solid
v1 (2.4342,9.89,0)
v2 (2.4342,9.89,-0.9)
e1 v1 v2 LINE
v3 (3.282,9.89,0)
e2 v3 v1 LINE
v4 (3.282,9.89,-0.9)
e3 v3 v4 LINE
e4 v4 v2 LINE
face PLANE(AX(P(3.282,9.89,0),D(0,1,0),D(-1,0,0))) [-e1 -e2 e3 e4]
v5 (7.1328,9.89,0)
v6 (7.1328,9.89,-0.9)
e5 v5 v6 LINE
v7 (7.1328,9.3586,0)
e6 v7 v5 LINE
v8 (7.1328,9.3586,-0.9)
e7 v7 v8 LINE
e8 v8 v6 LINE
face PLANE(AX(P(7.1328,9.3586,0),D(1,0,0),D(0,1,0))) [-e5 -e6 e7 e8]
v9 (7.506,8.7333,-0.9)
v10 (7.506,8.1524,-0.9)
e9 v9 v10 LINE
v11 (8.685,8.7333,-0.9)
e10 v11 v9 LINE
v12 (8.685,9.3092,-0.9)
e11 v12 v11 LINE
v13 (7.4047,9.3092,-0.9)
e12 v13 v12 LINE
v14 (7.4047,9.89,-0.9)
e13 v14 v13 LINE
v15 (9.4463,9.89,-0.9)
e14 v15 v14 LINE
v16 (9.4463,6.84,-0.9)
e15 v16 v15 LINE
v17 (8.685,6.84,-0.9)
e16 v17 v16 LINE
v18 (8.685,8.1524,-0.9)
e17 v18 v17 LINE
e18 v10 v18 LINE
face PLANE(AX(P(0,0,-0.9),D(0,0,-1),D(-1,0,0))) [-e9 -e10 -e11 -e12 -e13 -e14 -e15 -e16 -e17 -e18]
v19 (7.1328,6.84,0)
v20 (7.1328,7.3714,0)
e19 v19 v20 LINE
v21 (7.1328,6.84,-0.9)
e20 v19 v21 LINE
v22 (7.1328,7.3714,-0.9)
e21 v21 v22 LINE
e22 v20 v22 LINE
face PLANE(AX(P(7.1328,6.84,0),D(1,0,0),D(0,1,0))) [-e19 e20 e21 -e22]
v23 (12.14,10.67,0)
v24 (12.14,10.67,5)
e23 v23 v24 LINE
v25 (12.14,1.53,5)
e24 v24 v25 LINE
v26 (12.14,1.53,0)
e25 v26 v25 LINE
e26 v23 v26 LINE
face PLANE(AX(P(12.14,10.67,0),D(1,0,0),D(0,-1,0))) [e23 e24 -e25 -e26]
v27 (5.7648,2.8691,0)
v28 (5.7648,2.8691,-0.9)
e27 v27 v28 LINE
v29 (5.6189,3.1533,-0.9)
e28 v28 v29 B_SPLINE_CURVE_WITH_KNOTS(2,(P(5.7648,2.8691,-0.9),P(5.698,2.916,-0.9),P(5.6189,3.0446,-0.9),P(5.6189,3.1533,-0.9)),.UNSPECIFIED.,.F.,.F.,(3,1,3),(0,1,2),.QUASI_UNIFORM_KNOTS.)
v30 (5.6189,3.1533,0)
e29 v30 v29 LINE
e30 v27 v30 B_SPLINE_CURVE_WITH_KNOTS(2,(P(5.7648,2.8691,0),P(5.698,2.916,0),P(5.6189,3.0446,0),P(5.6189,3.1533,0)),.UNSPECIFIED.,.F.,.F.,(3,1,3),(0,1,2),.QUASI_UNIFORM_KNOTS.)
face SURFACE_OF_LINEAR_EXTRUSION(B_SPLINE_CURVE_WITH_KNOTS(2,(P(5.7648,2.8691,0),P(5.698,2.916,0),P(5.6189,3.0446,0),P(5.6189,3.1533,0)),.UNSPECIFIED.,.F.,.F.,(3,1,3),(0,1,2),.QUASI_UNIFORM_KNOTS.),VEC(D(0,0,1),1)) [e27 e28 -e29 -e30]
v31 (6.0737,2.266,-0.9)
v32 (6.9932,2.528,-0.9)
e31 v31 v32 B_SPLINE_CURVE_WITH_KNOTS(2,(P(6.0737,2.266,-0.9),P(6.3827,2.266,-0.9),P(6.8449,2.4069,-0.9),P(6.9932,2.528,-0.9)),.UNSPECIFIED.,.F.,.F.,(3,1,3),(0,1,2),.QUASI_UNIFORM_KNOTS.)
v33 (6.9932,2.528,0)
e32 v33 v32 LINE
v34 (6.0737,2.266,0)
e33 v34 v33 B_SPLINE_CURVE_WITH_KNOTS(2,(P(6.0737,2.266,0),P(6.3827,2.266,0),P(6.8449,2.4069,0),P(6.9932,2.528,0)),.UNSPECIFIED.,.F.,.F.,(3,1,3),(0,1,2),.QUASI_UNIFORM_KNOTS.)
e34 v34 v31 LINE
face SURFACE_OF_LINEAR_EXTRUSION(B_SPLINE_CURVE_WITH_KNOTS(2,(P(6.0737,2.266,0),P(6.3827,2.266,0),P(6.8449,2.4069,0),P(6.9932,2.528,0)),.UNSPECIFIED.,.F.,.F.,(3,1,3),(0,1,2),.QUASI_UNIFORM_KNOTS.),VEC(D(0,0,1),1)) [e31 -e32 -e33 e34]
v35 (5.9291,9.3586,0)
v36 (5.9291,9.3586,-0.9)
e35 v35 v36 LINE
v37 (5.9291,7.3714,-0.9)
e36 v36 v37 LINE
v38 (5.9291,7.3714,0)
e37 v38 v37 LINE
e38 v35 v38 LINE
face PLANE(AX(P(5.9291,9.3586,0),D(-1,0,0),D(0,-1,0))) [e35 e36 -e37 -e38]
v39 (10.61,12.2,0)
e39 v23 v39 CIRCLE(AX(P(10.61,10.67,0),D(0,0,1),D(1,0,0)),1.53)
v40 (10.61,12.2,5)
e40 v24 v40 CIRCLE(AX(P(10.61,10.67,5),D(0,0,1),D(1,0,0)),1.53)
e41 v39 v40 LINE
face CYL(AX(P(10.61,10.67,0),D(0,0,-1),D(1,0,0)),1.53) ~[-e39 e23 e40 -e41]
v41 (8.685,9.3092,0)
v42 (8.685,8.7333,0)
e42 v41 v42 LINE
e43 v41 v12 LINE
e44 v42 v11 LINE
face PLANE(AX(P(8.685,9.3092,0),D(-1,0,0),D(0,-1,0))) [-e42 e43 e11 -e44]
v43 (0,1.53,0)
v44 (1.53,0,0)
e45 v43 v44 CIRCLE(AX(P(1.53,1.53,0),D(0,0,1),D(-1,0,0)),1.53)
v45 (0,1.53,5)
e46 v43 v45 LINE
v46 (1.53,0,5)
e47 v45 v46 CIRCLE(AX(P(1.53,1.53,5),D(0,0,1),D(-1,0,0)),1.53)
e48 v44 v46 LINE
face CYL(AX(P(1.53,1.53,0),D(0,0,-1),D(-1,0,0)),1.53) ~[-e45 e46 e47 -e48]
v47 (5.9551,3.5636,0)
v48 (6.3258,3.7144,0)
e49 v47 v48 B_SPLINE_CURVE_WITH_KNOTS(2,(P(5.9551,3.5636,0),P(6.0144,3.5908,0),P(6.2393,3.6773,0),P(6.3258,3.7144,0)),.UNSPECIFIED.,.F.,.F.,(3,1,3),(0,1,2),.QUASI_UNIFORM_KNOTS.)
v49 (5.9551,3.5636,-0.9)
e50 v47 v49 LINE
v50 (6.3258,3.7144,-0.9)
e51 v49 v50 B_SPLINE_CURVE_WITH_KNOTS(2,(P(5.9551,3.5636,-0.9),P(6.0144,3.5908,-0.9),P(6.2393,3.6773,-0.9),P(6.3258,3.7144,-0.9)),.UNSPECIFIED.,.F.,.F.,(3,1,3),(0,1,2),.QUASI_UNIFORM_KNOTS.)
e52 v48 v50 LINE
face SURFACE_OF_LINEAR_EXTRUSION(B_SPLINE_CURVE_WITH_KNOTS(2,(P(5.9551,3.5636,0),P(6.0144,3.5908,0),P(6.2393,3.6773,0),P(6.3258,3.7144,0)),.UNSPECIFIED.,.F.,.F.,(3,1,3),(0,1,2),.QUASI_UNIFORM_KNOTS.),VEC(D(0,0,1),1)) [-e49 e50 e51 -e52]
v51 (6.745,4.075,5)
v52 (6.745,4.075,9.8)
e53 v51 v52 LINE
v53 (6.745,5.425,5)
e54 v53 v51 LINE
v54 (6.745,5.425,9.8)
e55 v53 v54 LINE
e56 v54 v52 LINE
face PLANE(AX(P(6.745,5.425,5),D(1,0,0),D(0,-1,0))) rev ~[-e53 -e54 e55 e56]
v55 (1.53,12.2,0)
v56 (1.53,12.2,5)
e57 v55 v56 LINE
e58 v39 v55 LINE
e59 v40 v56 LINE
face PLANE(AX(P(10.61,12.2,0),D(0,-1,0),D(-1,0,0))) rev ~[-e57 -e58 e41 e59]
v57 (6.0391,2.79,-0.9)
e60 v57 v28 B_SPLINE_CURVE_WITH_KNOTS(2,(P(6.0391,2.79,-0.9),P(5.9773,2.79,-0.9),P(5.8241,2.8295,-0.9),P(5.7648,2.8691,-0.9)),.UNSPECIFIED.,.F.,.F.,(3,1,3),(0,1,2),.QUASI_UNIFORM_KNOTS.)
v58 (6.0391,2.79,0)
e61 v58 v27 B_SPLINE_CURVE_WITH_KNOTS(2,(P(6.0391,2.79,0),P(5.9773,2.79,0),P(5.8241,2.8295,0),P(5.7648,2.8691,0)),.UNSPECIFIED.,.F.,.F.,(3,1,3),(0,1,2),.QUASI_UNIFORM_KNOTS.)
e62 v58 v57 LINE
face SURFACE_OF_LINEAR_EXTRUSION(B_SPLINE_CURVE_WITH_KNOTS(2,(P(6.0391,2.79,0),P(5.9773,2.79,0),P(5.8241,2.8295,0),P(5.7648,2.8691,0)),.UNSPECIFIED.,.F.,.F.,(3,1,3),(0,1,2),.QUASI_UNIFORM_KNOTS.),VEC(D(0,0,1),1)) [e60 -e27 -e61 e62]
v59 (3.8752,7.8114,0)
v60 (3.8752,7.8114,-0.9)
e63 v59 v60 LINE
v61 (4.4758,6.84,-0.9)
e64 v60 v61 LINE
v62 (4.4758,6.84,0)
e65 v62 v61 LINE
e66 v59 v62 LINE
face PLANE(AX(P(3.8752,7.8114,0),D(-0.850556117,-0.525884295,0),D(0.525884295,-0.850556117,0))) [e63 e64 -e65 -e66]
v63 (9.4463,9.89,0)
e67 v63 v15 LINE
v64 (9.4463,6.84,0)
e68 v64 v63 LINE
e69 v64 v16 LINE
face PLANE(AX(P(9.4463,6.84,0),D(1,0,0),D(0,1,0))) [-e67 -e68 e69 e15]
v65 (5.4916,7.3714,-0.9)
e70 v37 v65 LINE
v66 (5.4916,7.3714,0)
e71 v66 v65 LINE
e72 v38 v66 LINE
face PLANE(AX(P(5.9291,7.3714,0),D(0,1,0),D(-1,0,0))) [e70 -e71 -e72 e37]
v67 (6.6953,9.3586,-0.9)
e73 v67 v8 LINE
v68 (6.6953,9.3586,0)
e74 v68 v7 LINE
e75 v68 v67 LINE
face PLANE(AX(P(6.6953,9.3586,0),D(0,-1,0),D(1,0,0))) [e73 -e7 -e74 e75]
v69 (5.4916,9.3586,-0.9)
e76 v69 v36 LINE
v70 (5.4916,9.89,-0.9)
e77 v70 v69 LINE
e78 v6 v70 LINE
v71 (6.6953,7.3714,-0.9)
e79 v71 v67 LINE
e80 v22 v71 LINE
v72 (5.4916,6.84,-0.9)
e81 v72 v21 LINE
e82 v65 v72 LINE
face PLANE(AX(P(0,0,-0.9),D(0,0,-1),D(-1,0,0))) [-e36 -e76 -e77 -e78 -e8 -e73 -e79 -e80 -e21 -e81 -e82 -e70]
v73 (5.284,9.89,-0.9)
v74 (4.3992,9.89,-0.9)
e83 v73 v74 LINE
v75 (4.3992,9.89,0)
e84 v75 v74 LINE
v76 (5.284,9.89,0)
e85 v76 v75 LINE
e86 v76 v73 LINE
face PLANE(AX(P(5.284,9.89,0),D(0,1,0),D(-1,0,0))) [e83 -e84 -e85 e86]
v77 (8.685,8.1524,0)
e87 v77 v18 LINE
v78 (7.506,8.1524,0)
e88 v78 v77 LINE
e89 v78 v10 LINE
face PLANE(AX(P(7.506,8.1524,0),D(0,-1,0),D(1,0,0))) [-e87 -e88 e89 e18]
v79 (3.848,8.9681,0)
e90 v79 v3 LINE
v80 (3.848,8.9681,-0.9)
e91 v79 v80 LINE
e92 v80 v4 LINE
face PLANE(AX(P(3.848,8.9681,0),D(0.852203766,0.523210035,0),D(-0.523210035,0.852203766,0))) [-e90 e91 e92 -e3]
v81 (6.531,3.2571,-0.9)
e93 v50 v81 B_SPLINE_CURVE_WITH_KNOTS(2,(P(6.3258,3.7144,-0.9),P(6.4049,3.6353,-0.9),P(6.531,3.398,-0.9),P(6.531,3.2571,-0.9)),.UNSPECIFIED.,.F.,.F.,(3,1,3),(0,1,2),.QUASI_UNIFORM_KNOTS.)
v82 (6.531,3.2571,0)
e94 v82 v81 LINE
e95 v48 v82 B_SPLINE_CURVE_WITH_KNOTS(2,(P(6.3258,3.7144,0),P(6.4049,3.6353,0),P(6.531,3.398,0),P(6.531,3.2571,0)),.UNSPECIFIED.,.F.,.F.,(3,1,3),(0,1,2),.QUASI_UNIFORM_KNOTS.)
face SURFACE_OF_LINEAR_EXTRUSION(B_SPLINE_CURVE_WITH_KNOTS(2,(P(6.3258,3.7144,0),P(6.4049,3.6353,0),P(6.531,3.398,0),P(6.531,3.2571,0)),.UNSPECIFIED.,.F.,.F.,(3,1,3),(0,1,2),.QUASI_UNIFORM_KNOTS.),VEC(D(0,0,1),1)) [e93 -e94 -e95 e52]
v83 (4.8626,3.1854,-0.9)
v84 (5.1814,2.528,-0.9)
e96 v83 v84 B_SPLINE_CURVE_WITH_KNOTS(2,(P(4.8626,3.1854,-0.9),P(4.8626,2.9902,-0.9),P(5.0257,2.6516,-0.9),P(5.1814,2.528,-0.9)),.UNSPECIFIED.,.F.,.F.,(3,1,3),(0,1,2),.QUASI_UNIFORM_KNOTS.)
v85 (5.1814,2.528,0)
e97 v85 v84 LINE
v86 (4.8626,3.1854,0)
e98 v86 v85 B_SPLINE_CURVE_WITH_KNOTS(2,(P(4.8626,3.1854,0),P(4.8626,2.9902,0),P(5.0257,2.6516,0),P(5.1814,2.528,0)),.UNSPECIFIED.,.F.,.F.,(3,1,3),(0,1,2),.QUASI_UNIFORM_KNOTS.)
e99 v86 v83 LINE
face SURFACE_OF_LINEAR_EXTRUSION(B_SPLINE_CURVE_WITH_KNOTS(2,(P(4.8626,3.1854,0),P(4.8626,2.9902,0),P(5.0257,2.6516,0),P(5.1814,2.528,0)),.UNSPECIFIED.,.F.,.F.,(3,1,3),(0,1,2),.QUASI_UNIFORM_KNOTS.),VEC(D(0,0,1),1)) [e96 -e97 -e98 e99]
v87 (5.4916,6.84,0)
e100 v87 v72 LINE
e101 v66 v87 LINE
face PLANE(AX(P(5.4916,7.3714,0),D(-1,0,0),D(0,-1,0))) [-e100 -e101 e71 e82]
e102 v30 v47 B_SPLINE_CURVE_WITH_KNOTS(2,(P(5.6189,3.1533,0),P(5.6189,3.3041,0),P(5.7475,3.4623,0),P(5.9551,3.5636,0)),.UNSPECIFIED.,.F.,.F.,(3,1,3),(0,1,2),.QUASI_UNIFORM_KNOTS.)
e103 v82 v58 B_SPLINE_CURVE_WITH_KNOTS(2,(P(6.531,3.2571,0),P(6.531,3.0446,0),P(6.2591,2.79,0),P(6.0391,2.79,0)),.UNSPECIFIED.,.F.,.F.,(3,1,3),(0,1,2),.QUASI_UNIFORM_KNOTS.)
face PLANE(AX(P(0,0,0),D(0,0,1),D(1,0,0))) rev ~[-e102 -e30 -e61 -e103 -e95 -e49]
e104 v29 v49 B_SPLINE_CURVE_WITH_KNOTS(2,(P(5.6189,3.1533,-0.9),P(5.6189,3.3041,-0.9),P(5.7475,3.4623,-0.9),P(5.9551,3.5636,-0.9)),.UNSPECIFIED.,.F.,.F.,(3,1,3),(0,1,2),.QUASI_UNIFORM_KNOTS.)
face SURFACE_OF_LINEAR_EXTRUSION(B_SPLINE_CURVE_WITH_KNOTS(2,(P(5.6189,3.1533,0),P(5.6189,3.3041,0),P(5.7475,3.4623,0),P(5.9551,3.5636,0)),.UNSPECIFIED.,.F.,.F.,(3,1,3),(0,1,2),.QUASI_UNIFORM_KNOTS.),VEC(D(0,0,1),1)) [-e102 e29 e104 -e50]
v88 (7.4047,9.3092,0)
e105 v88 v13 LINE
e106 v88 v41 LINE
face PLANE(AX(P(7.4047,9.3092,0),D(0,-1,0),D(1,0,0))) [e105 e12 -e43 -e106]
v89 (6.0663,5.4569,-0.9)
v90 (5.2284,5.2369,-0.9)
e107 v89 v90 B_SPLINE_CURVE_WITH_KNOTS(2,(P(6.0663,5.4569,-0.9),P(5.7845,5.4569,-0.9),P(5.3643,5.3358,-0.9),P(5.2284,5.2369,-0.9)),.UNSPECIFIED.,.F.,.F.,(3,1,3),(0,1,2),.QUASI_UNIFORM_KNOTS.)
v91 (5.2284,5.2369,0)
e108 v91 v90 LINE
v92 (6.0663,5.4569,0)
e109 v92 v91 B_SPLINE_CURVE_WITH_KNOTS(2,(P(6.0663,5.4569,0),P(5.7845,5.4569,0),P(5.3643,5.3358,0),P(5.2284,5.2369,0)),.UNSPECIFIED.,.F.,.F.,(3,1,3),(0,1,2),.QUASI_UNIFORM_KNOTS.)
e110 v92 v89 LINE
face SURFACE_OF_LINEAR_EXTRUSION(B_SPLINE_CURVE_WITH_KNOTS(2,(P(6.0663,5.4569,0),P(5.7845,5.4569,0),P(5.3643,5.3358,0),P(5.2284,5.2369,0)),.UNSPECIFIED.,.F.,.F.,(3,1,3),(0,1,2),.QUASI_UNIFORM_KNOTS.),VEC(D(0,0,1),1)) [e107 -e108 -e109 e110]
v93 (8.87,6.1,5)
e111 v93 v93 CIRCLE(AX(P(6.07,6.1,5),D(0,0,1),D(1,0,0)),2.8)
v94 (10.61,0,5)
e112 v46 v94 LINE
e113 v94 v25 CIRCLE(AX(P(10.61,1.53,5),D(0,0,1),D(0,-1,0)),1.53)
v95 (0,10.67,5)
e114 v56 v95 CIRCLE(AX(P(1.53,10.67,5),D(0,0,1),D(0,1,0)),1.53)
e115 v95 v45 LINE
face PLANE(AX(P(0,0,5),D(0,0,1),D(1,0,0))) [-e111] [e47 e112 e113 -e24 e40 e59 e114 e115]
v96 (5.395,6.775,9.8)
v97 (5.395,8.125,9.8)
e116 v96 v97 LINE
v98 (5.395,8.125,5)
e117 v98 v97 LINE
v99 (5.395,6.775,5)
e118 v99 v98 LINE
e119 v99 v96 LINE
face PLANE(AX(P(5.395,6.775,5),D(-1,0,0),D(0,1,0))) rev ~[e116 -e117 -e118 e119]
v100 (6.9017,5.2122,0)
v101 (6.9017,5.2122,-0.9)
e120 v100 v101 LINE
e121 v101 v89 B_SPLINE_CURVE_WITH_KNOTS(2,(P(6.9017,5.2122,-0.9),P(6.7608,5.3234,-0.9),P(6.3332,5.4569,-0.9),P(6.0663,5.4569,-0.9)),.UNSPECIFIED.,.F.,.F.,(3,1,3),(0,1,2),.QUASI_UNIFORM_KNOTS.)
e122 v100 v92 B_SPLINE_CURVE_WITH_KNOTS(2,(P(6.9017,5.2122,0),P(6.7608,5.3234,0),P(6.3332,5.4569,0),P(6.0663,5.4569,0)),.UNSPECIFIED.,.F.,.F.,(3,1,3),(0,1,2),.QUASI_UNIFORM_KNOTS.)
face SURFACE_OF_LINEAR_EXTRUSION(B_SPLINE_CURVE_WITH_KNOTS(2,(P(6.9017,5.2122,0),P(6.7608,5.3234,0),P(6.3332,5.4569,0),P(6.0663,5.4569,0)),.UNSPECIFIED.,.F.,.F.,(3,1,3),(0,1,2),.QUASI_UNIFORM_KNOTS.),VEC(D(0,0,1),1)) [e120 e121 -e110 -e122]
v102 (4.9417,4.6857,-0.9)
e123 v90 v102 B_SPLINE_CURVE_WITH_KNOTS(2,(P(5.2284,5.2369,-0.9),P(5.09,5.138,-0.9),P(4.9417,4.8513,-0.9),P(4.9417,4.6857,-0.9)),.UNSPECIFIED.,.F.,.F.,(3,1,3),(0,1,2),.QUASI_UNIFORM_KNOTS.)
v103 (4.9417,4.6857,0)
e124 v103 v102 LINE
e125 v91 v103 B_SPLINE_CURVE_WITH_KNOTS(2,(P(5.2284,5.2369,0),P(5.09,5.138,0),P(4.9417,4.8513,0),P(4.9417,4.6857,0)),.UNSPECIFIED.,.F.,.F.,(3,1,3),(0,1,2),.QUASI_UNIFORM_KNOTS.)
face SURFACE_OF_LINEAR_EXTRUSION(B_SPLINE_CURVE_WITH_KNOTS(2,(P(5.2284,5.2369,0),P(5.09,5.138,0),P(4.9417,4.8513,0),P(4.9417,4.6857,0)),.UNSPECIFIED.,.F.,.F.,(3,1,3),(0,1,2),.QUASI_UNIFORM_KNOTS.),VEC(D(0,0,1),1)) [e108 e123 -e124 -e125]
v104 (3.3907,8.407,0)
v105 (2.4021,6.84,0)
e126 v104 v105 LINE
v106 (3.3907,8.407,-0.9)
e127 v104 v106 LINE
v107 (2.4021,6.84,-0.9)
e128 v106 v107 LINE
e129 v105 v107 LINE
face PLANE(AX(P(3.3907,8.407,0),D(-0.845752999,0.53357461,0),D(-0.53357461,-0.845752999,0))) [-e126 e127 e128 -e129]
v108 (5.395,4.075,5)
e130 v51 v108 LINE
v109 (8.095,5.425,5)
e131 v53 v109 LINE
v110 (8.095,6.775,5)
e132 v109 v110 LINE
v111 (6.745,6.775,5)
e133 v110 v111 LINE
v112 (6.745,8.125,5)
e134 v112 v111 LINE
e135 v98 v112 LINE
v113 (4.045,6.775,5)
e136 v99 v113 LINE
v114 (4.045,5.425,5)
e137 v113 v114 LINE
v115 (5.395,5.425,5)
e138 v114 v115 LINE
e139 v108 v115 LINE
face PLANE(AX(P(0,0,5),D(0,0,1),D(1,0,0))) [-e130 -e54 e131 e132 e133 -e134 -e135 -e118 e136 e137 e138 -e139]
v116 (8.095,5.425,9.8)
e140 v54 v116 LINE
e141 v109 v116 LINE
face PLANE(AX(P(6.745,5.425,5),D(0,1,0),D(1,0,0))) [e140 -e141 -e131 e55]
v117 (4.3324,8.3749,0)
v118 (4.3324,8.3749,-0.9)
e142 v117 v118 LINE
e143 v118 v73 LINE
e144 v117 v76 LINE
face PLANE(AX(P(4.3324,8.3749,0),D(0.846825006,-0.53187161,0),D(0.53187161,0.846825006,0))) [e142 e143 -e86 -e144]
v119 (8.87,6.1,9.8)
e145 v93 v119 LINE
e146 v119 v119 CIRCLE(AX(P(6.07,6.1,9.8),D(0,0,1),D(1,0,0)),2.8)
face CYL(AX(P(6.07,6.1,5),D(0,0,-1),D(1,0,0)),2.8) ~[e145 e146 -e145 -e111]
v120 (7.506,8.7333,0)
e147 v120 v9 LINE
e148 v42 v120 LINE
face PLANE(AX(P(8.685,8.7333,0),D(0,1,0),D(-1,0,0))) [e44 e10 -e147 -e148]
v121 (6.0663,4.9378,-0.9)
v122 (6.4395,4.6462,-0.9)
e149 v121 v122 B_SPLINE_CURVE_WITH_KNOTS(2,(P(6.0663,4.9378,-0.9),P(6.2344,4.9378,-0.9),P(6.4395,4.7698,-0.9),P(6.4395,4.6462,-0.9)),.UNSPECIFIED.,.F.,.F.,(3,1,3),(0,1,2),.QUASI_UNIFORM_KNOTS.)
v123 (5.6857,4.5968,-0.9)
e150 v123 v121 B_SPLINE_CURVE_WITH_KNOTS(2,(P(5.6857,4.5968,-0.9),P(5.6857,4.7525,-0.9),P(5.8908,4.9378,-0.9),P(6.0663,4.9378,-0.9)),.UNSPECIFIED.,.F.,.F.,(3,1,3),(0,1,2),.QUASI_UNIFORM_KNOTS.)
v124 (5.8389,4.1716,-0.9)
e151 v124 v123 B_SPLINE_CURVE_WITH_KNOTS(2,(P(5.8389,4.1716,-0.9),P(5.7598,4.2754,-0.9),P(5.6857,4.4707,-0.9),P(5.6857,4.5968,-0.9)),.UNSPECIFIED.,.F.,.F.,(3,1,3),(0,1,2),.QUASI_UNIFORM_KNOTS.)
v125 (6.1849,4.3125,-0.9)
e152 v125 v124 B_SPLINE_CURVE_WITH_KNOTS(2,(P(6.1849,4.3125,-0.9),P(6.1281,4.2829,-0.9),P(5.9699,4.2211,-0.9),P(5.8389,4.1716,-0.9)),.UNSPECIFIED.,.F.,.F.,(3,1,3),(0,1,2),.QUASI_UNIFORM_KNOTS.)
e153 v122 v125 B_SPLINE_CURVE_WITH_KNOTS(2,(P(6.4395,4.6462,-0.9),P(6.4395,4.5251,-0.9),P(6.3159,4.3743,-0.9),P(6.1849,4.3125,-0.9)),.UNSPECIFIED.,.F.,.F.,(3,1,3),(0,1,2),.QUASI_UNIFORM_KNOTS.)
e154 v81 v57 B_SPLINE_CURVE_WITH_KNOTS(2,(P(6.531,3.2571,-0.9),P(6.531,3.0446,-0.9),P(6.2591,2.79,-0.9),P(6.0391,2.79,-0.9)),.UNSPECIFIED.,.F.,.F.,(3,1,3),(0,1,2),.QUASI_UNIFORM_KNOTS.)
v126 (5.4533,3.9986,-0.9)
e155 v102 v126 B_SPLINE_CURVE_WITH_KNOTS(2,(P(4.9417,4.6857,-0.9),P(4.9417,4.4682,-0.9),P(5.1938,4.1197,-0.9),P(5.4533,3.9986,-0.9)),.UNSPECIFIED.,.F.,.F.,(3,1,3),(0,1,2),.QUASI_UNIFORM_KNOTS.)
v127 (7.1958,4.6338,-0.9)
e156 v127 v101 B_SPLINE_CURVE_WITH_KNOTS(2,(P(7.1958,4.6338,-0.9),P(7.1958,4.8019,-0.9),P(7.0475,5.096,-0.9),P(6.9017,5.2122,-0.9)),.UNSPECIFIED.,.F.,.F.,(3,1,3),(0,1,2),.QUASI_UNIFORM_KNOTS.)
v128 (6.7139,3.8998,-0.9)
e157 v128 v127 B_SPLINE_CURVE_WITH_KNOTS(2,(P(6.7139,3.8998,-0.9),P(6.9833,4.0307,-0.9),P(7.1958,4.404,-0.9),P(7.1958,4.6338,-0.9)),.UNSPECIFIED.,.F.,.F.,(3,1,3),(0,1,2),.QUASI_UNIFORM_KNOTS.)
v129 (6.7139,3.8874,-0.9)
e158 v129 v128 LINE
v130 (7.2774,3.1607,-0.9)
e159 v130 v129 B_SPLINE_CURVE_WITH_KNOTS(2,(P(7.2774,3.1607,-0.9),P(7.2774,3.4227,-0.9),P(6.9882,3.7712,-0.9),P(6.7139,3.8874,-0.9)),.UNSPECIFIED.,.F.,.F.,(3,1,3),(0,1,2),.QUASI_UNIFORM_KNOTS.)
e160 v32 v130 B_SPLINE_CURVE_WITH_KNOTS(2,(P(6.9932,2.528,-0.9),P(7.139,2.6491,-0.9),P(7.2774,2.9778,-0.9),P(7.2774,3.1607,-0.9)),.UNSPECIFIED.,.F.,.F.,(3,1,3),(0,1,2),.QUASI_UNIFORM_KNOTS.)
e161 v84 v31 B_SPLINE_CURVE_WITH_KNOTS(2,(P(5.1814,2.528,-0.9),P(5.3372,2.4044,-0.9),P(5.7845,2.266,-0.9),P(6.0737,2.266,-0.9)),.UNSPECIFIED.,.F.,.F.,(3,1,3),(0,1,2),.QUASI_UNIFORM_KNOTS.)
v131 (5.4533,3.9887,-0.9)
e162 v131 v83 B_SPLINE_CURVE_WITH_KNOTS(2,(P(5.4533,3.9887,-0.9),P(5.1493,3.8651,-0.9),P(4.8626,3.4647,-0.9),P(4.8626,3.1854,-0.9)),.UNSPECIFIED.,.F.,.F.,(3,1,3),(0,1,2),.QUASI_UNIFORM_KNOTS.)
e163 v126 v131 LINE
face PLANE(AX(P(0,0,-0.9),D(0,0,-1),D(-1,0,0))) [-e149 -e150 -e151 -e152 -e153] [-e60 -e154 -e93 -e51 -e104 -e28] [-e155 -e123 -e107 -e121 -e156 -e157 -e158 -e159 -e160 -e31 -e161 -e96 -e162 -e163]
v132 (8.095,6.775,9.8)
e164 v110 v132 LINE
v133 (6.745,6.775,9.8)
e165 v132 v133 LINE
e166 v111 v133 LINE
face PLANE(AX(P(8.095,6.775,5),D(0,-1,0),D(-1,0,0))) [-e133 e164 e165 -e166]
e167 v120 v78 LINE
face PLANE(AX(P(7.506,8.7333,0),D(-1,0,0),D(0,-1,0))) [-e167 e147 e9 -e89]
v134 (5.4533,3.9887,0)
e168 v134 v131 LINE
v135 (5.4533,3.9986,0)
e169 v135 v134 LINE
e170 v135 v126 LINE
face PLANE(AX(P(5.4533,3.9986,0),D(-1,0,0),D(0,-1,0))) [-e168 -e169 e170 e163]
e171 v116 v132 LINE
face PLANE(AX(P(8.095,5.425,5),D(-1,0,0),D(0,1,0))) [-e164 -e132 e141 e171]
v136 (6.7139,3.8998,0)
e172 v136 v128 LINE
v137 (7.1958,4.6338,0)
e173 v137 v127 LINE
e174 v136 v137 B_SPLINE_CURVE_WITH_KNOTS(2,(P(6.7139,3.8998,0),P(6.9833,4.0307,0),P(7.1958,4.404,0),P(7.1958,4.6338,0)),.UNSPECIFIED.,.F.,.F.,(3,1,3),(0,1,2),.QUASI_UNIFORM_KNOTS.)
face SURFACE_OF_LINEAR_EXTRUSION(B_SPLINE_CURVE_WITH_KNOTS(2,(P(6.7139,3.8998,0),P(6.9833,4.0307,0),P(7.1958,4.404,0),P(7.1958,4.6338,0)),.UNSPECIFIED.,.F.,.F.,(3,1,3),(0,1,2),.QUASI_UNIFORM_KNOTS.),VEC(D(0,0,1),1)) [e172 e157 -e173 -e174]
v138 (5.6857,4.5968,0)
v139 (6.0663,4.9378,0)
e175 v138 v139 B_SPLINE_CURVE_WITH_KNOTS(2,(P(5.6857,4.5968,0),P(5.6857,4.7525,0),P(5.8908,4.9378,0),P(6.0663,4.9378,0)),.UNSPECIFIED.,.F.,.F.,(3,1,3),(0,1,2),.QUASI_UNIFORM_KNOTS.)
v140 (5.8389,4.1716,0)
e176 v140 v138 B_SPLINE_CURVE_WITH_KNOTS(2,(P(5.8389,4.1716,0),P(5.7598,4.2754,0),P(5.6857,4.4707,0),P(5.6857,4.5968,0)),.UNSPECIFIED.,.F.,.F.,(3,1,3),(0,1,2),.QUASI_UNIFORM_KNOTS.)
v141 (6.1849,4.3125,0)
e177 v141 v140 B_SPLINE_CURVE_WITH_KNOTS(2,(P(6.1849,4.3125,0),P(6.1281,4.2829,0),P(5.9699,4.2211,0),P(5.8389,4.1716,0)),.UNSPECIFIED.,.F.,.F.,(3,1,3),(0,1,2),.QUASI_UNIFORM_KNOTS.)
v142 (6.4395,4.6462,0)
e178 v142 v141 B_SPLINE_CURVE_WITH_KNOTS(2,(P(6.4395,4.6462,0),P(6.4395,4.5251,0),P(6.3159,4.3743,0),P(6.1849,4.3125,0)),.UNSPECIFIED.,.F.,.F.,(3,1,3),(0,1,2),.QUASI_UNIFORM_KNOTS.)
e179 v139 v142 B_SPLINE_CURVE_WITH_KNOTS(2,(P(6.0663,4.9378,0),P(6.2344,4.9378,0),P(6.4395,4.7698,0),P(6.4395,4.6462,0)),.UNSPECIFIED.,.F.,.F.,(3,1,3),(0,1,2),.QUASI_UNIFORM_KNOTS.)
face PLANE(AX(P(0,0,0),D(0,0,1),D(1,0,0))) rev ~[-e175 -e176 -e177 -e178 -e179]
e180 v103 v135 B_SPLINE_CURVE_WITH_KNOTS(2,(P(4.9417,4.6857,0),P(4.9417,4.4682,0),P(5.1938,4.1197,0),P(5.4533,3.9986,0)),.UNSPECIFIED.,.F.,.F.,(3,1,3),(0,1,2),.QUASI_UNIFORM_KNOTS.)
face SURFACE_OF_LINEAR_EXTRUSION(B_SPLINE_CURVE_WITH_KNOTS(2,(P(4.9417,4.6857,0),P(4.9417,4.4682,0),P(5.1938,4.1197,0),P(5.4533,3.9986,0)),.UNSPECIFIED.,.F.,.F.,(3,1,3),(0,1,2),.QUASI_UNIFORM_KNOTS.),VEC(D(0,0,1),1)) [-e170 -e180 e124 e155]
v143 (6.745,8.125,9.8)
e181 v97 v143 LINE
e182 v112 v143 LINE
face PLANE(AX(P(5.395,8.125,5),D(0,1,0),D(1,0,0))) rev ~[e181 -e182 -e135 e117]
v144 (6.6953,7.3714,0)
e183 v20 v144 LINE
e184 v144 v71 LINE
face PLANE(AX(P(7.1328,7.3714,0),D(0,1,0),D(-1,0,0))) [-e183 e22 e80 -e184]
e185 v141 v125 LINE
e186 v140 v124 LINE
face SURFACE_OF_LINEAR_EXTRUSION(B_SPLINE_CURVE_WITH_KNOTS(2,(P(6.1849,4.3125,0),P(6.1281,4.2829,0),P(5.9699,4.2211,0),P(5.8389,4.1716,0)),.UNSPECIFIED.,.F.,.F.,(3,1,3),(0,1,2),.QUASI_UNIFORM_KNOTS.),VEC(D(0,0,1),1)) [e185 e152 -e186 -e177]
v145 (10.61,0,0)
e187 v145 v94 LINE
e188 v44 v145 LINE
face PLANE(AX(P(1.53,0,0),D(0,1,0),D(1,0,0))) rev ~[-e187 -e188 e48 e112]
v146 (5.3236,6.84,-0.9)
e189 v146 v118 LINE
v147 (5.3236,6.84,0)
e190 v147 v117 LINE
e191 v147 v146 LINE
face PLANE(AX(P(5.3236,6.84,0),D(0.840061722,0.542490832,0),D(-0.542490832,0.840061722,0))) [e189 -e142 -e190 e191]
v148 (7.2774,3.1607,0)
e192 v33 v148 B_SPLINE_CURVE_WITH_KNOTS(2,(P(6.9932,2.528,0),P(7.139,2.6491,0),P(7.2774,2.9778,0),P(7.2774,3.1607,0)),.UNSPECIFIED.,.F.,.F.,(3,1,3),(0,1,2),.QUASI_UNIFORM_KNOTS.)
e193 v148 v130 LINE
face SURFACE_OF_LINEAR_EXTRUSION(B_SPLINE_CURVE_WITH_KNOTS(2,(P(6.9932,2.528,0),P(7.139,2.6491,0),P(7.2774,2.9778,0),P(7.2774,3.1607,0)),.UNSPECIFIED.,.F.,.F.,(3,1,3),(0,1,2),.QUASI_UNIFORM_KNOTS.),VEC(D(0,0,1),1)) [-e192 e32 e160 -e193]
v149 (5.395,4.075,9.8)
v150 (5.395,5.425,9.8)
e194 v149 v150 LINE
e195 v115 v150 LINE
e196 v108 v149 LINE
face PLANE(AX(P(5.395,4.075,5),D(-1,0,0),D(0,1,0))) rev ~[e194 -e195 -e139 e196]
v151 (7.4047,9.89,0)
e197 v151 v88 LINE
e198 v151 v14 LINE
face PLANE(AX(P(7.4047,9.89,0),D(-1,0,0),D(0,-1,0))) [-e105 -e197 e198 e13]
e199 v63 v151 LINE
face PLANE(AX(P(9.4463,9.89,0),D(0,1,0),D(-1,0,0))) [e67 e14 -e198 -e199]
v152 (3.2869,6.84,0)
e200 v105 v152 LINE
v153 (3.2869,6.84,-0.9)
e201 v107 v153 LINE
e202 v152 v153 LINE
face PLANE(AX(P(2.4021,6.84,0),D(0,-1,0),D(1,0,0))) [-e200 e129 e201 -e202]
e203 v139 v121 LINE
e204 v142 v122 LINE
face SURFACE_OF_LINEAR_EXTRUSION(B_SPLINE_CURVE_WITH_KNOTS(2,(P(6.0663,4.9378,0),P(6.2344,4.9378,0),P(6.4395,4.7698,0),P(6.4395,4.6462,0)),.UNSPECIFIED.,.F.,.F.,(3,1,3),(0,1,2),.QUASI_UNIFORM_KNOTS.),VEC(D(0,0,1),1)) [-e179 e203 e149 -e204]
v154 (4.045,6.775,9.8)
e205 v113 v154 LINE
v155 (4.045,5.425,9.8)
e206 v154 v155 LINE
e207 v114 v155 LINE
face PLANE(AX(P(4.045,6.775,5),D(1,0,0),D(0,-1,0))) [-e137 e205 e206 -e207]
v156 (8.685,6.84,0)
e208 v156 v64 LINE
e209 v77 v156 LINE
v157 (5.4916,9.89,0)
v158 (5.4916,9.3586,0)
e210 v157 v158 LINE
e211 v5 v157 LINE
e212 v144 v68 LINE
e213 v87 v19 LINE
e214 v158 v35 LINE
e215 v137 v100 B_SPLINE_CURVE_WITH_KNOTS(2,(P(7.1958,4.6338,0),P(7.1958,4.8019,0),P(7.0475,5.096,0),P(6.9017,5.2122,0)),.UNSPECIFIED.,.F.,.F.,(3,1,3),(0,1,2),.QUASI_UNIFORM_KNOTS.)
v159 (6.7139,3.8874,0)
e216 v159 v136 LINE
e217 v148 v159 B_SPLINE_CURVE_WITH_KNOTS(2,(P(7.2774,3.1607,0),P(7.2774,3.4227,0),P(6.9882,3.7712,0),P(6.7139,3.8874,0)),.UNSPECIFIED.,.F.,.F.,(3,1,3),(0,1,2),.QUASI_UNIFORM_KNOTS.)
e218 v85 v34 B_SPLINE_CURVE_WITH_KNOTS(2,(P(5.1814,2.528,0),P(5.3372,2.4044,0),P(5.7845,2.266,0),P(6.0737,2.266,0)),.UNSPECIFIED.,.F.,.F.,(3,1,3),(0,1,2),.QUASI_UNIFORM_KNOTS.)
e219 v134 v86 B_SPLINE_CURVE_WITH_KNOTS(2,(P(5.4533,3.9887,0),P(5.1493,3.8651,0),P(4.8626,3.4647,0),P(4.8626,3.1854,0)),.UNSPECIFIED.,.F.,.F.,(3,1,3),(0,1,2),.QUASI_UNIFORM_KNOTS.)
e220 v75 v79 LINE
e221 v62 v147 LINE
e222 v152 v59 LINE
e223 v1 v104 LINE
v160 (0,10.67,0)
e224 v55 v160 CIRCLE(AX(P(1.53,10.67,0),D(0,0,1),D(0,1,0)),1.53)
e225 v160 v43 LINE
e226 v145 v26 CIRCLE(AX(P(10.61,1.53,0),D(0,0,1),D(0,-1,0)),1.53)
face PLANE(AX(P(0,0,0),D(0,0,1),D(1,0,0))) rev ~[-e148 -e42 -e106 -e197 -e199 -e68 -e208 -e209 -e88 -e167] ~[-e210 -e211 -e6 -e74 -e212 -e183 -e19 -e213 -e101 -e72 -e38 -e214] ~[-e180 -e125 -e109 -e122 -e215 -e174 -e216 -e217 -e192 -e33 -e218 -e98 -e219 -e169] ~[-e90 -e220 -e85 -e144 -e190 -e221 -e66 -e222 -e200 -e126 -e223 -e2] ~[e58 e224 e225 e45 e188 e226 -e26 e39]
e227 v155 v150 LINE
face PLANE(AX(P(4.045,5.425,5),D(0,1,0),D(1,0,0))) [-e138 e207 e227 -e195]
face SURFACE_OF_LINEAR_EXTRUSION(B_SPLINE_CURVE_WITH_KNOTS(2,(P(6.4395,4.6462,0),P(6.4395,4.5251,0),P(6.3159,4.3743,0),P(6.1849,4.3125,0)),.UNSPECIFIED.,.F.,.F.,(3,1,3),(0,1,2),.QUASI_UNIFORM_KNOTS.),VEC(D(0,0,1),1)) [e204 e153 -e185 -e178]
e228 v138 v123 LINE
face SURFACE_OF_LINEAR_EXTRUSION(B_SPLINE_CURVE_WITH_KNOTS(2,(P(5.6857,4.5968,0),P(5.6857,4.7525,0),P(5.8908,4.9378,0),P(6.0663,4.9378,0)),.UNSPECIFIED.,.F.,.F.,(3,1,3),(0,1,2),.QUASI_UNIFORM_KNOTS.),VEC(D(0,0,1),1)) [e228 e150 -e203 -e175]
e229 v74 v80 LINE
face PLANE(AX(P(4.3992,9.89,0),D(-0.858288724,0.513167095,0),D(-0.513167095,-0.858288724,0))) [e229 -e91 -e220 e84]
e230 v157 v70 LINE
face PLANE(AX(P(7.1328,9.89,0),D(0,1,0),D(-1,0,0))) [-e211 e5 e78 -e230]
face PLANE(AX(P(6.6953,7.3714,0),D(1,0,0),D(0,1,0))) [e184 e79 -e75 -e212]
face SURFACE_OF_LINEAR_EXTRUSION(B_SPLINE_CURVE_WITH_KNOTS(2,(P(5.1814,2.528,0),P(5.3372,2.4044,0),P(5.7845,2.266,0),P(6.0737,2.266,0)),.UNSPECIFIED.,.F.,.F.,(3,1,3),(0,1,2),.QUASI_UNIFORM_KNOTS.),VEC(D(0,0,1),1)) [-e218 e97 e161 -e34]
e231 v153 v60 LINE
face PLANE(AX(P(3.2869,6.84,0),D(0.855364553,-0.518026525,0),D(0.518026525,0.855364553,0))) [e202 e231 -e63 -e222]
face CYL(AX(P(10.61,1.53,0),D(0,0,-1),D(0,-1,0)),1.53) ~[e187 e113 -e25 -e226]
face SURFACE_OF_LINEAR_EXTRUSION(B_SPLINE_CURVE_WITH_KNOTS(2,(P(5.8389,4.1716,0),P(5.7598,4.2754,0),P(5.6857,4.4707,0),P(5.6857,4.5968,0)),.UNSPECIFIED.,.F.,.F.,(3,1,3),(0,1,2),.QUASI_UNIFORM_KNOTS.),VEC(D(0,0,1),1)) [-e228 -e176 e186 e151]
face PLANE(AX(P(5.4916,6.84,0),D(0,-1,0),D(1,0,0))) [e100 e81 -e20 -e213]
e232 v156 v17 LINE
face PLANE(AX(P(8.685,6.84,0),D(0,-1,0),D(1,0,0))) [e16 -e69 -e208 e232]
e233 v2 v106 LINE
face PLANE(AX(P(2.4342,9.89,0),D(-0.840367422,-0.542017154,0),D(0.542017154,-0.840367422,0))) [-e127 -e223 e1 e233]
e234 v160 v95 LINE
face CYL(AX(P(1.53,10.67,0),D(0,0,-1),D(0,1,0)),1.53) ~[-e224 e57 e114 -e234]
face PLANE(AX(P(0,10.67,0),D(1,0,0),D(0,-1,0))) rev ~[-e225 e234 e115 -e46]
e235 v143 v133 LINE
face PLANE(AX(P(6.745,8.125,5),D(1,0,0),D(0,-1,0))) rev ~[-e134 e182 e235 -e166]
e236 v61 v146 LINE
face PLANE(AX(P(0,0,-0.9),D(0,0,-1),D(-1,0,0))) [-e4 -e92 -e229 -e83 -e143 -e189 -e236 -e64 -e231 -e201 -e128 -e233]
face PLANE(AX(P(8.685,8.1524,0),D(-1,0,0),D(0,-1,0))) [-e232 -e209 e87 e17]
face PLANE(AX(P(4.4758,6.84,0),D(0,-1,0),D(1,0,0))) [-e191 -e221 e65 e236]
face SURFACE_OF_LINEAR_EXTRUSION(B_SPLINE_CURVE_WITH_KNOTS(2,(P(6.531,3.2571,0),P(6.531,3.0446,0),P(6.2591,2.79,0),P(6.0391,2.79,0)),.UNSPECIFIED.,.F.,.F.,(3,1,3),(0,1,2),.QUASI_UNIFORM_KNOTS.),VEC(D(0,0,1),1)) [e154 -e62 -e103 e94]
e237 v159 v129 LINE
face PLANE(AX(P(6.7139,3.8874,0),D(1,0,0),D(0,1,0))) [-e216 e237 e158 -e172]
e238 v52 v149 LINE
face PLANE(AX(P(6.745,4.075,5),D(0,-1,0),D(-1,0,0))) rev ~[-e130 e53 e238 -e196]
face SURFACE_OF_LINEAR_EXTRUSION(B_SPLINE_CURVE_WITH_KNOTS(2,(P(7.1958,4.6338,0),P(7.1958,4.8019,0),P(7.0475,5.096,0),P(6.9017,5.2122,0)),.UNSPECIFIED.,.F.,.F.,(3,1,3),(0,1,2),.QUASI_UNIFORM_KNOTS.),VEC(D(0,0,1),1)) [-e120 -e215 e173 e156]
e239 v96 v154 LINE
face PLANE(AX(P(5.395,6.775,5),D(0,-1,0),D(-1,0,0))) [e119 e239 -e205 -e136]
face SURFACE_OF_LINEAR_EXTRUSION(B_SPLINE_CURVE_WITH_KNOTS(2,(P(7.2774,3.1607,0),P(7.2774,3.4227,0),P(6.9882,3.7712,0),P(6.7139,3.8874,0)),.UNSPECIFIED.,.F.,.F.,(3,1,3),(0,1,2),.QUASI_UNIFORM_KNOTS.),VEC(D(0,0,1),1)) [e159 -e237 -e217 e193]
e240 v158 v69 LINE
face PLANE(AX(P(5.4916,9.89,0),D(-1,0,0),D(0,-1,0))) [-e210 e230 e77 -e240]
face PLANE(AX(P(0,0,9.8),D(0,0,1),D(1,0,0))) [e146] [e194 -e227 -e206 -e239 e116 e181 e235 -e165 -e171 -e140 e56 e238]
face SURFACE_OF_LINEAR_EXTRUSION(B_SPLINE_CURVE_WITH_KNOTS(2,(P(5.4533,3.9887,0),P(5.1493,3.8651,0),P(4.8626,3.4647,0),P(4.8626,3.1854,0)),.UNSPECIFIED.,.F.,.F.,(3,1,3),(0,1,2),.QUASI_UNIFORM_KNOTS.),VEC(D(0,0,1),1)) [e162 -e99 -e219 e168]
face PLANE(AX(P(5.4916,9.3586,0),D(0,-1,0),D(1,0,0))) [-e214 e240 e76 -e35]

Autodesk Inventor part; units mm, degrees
ref_plane "YZ Plane" through (0, 0, 0) normal (1, 0, 0) x (0, 1, 0)
ref_plane "XZ Plane" through (0, 0, 0) normal (0, 1, 0) x (-1, 0, 0)
sketch "Sketch1" plane through (0, 0, 0) normal (0, 0, 1) x (1, 0, 0)
  line L0 (14.6962, 12.74) -> (14.6962, 0) construction
  line L1 (10.61, 12.2) -> (1.53, 12.2)
  arc A0 (1.53, 12.2) -> (0, 10.67) centre (1.53, 10.67) ccw
  line L2 (0, 10.67) -> (0, 1.53)
  arc A1 (0, 1.53) -> (1.53, 0) centre (1.53, 1.53) ccw
  line L3 (1.53, 0) -> (10.61, 0)
  arc A2 (10.61, 0) -> (12.14, 1.53) centre (10.61, 1.53) ccw
  arc A3 (12.14, 10.67) -> (10.61, 12.2) centre (10.61, 10.67) ccw
  line L4 (12.14, 10.67) -> (12.14, 1.53)
  point P0 (0, 0)
  point P1 (0, 0)
  dimension "d10" = 12.74
ref_plane "Work Plane1" through (0, 0, 5) normal (0, 0, 1) x (1, 0, 0)
sketch "Sketch2" plane through (0, 0, 5) normal (0, 0, 1) x (1, 0, 0)
  line L0 (10.88, 12.74) -> (1.8, 12.74) projected
  line L1 (10.88, 12.74) -> (1.8, 12.74) projected
  arc A0 (1.8, 12.74) -> (0, 10.94) centre (1.8, 10.94) ccw projected
  line L2 (0, 10.94) -> (0, 1.8) projected
  arc A1 (0, 1.8) -> (1.8, 0) centre (1.8, 1.8) ccw projected
  line L3 (1.8, 0) -> (10.88, 0) projected
  arc A2 (10.88, 0) -> (12.68, 1.8) centre (10.88, 1.8) ccw projected
  line L4 (12.68, 1.8) -> (12.68, 10.94) projected
  arc A3 (12.68, 10.94) -> (10.88, 12.74) centre (10.88, 10.94) ccw projected
  circle A4 centre (6.34, 6.37) radius 2.8
  line L5 (5.665, 8.395) -> (7.015, 8.395)
  line L6 (7.015, 4.345) -> (5.665, 4.345)
  line L7 (5.665, 4.345) -> (7.015, 8.395) construction
  line L8 (5.665, 8.395) -> (7.015, 4.345) construction
  line L9 (8.365, 5.695) -> (8.365, 7.045)
  line L10 (4.315, 7.045) -> (4.315, 5.695)
  line L11 (4.315, 5.695) -> (8.365, 7.045) construction
  line L12 (8.365, 5.695) -> (4.315, 7.045) construction
  line L13 (4.315, 5.695) -> (5.665, 5.695)
  line L14 (7.015, 5.695) -> (8.365, 5.695)
  line L15 (5.665, 4.345) -> (5.665, 5.695)
  line L16 (5.665, 7.045) -> (5.665, 8.395)
  line L17 (8.365, 7.045) -> (7.015, 7.045)
  line L18 (5.665, 7.045) -> (4.315, 7.045)
  line L19 (7.015, 8.395) -> (7.015, 7.045)
  line L20 (7.015, 5.695) -> (7.015, 4.345)
  point P0 (0, 0)
  dimension "d3" = 5.6
  dimension "d4" = 4.05
  dimension "d5" = 1.35
  dimension "d6" = 4.05
  dimension "d7" = 1.35
extrude "Extrusion3" add sketch "Sketch1" along normal blind 5
sketch "Sketch3" plane through (0, 0, 5) normal (0, 0, 1) x (1, 0, 0)
  line L0 (10.61, 12.47) -> (1.53, 12.47)
  line L1 (10.61, 12.47) -> (1.53, 12.47)
  arc A0 (1.53, 12.47) -> (-0.27, 10.67) centre (1.53, 10.67) ccw
  line L2 (-0.27, 10.67) -> (-0.27, 1.53)
  arc A1 (-0.27, 1.53) -> (1.53, -0.27) centre (1.53, 1.53) ccw
  line L3 (1.53, -0.27) -> (10.61, -0.27)
  arc A2 (10.61, -0.27) -> (12.41, 1.53) centre (10.61, 1.53) ccw
  line L4 (12.41, 1.53) -> (12.41, 10.67)
  arc A3 (12.41, 10.67) -> (10.61, 12.47) centre (10.61, 10.67) ccw
  circle A4 centre (6.07, 6.1) radius 2.8
  line L5 (5.395, 8.125) -> (6.745, 8.125)
  line L6 (6.745, 4.075) -> (5.395, 4.075)
  line L7 (5.395, 4.075) -> (6.745, 8.125) construction
  line L8 (5.395, 8.125) -> (6.745, 4.075) construction
  line L9 (8.095, 5.425) -> (8.095, 6.775)
  line L10 (4.045, 6.775) -> (4.045, 5.425)
  line L11 (4.045, 5.425) -> (8.095, 6.775) construction
  line L12 (8.095, 5.425) -> (4.045, 6.775) construction
  line L13 (4.045, 5.425) -> (5.395, 5.425)
  line L14 (6.745, 5.425) -> (8.095, 5.425)
  line L15 (5.395, 4.075) -> (5.395, 5.425)
  line L16 (5.395, 6.775) -> (5.395, 8.125)
  line L17 (8.095, 6.775) -> (6.745, 6.775)
  line L18 (5.395, 6.775) -> (4.045, 6.775)
  line L19 (6.745, 8.125) -> (6.745, 6.775)
  line L20 (6.745, 5.425) -> (6.745, 4.075)
  line L21 (10.61, 12.2) -> (1.53, 12.2) projected
  line L22 (0, 10.67) -> (0, 1.53) projected
  point P0 (0, 0)
  point P1 (-0.27, -0.27)
  point P2 (6.07, 12.2)
  point P3 (0, 6.1)
  point P4 (6.07, 6.1)
  dimension "d14" = 5.6
  dimension "d15" = 4.05
  dimension "d16" = 1.35
  dimension "d17" = 4.05
  dimension "d18" = 1.35
extrude "Extrusion4" add sketch "Sketch3" along normal blind 4.8 contours A4
sketch "Sketch4" plane through (0, 0, 0) normal (0, 0, -1) x (-1, 0, 0)
  line L0 (-13.9436, 0) -> (-13.9436, 2.266)
  line L1 (-15.5559, 0) -> (-15.5559, 6.84)
  line L2 (-1.53, 0) -> (-10.61, 0) projected
  line L3 (-9.7626, 9.89) -> (-2.3774, 9.89) construction
  line L4 (-2.3774, 9.89) -> (-2.3774, 6.84) construction
  line L5 (-2.3774, 6.84) -> (-9.7626, 6.84) construction
  line L6 (-9.7626, 6.84) -> (-9.7626, 9.89) construction
  line L7 (-7.4059, 5.4569) -> (-4.7341, 5.4569) construction
  line L8 (-4.7341, 5.4569) -> (-4.7341, 2.266) construction
  line L9 (-4.7341, 2.266) -> (-7.4059, 2.266) construction
  line L10 (-7.4059, 2.266) -> (-7.4059, 5.4569) construction
  line L11 (-7.4047, 9.3092) -> (-8.685, 9.3092)
  line L12 (-8.685, 9.3092) -> (-8.685, 8.7333)
  line L13 (-8.685, 8.7333) -> (-7.506, 8.7333)
  line L14 (-7.506, 8.7333) -> (-7.506, 8.1524)
  line L15 (-7.506, 8.1524) -> (-8.685, 8.1524)
  line L16 (-8.685, 8.1524) -> (-8.685, 6.84)
  line L17 (-8.685, 6.84) -> (-9.4463, 6.84)
  line L18 (-9.4463, 6.84) -> (-9.4463, 9.89)
  line L19 (-9.4463, 9.89) -> (-7.4047, 9.89)
  line L20 (-7.4047, 9.89) -> (-7.4047, 9.3092)
  line L21 (-5.4916, 6.84) -> (-7.1328, 6.84)
  line L22 (-7.1328, 6.84) -> (-7.1328, 7.3714)
  line L23 (-7.1328, 7.3714) -> (-6.6953, 7.3714)
  line L24 (-6.6953, 7.3714) -> (-6.6953, 9.3586)
  line L25 (-6.6953, 9.3586) -> (-7.1328, 9.3586)
  line L26 (-7.1328, 9.3586) -> (-7.1328, 9.89)
  line L27 (-7.1328, 9.89) -> (-5.4916, 9.89)
  line L28 (-5.4916, 9.89) -> (-5.4916, 9.3586)
  line L29 (-5.4916, 9.3586) -> (-5.9291, 9.3586)
  line L30 (-5.9291, 9.3586) -> (-5.9291, 7.3714)
  line L31 (-5.9291, 7.3714) -> (-5.4916, 7.3714)
  line L32 (-5.4916, 7.3714) -> (-5.4916, 6.84)
  line L33 (-2.4021, 6.84) -> (-3.2869, 6.84)
  line L34 (-3.2869, 6.84) -> (-3.8752, 7.8114)
  line L35 (-3.8752, 7.8114) -> (-4.4758, 6.84)
  line L36 (-4.4758, 6.84) -> (-5.3236, 6.84)
  line L37 (-5.3236, 6.84) -> (-4.3324, 8.3749)
  line L38 (-4.3324, 8.3749) -> (-5.284, 9.89)
  line L39 (-5.284, 9.89) -> (-4.3992, 9.89)
  line L40 (-4.3992, 9.89) -> (-3.848, 8.9681)
  line L41 (-3.848, 8.9681) -> (-3.282, 9.89)
  line L42 (-3.282, 9.89) -> (-2.4342, 9.89)
  line L43 (-2.4342, 9.89) -> (-3.3907, 8.407)
  line L44 (-3.3907, 8.407) -> (-2.4021, 6.84)
  spline S0 degree 2 poles (-4.8626, 3.1854) (-4.8626, 2.9902) (-5.0257, 2.6516) (-5.1814, 2.528) knots 0 0 0 1 2 2 2
  spline S1 degree 2 poles (-5.1814, 2.528) (-5.3372, 2.4044) (-5.7845, 2.266) (-6.0737, 2.266) knots 0 0 0 1 2 2 2
  spline S2 degree 2 poles (-6.0737, 2.266) (-6.3827, 2.266) (-6.8449, 2.4069) (-6.9932, 2.528) knots 0 0 0 1 2 2 2
  spline S3 degree 2 poles (-6.9932, 2.528) (-7.139, 2.6491) (-7.2774, 2.9778) (-7.2774, 3.1607) knots 0 0 0 1 2 2 2
  spline S4 degree 2 poles (-7.2774, 3.1607) (-7.2774, 3.4227) (-6.9882, 3.7712) (-6.7139, 3.8874) knots 0 0 0 1 2 2 2
  line L45 (-6.7139, 3.8874) -> (-6.7139, 3.8998)
  spline S5 degree 2 poles (-6.7139, 3.8998) (-6.9833, 4.0307) (-7.1958, 4.404) (-7.1958, 4.6338) knots 0 0 0 1 2 2 2
  spline S6 degree 2 poles (-7.1958, 4.6338) (-7.1958, 4.8019) (-7.0475, 5.096) (-6.9017, 5.2122) knots 0 0 0 1 2 2 2
  spline S7 degree 2 poles (-6.9017, 5.2122) (-6.7608, 5.3234) (-6.3332, 5.4569) (-6.0663, 5.4569) knots 0 0 0 1 2 2 2
  spline S8 degree 2 poles (-6.0663, 5.4569) (-5.7845, 5.4569) (-5.3643, 5.3358) (-5.2284, 5.2369) knots 0 0 0 1 2 2 2
  spline S9 degree 2 poles (-5.2284, 5.2369) (-5.09, 5.138) (-4.9417, 4.8513) (-4.9417, 4.6857) knots 0 0 0 1 2 2 2
  spline S10 degree 2 poles (-4.9417, 4.6857) (-4.9417, 4.4682) (-5.1938, 4.1197) (-5.4533, 3.9986) knots 0 0 0 1 2 2 2
  line L46 (-5.4533, 3.9986) -> (-5.4533, 3.9887)
  spline S11 degree 2 poles (-5.4533, 3.9887) (-5.1493, 3.8651) (-4.8626, 3.4647) (-4.8626, 3.1854) knots 0 0 0 1 2 2 2
  spline S12 degree 2 poles (-5.6189, 3.1533) (-5.6189, 3.3041) (-5.7475, 3.4623) (-5.9551, 3.5636) knots 0 0 0 1 2 2 2
  spline S13 degree 2 poles (-5.9551, 3.5636) (-6.0144, 3.5908) (-6.2393, 3.6773) (-6.3258, 3.7144) knots 0 0 0 1 2 2 2
  spline S14 degree 2 poles (-6.3258, 3.7144) (-6.4049, 3.6353) (-6.531, 3.398) (-6.531, 3.2571) knots 0 0 0 1 2 2 2
  spline S15 degree 2 poles (-6.531, 3.2571) (-6.531, 3.0446) (-6.2591, 2.79) (-6.0391, 2.79) knots 0 0 0 1 2 2 2
  spline S16 degree 2 poles (-6.0391, 2.79) (-5.9773, 2.79) (-5.8241, 2.8295) (-5.7648, 2.8691) knots 0 0 0 1 2 2 2
  spline S17 degree 2 poles (-5.7648, 2.8691) (-5.698, 2.916) (-5.6189, 3.0446) (-5.6189, 3.1533) knots 0 0 0 1 2 2 2
  spline S18 degree 2 poles (-5.6857, 4.5968) (-5.6857, 4.7525) (-5.8908, 4.9378) (-6.0663, 4.9378) knots 0 0 0 1 2 2 2
  spline S19 degree 2 poles (-6.0663, 4.9378) (-6.2344, 4.9378) (-6.4395, 4.7698) (-6.4395, 4.6462) knots 0 0 0 1 2 2 2
  spline S20 degree 2 poles (-6.4395, 4.6462) (-6.4395, 4.5251) (-6.3159, 4.3743) (-6.1849, 4.3125) knots 0 0 0 1 2 2 2
  spline S21 degree 2 poles (-6.1849, 4.3125) (-6.1281, 4.2829) (-5.9699, 4.2211) (-5.8389, 4.1716) knots 0 0 0 1 2 2 2
  spline S22 degree 2 poles (-5.8389, 4.1716) (-5.7598, 4.2754) (-5.6857, 4.4707) (-5.6857, 4.5968) knots 0 0 0 1 2 2 2
  point P0 (0, 0)
  point P1 (-6.07, 0)
  point P2 (-6.07, 2.266)
  point P3 (-6.07, 6.84)
  point P4 (-6.07, 6.84)
  point P5 (-6.07, 2.266)
  dimension "d21" = 2.266
  dimension "d22" = 6.84
extrude "Extrusion5" add sketch "Sketch4" along normal blind 0.9
properties part number "IPC FIX 8"
